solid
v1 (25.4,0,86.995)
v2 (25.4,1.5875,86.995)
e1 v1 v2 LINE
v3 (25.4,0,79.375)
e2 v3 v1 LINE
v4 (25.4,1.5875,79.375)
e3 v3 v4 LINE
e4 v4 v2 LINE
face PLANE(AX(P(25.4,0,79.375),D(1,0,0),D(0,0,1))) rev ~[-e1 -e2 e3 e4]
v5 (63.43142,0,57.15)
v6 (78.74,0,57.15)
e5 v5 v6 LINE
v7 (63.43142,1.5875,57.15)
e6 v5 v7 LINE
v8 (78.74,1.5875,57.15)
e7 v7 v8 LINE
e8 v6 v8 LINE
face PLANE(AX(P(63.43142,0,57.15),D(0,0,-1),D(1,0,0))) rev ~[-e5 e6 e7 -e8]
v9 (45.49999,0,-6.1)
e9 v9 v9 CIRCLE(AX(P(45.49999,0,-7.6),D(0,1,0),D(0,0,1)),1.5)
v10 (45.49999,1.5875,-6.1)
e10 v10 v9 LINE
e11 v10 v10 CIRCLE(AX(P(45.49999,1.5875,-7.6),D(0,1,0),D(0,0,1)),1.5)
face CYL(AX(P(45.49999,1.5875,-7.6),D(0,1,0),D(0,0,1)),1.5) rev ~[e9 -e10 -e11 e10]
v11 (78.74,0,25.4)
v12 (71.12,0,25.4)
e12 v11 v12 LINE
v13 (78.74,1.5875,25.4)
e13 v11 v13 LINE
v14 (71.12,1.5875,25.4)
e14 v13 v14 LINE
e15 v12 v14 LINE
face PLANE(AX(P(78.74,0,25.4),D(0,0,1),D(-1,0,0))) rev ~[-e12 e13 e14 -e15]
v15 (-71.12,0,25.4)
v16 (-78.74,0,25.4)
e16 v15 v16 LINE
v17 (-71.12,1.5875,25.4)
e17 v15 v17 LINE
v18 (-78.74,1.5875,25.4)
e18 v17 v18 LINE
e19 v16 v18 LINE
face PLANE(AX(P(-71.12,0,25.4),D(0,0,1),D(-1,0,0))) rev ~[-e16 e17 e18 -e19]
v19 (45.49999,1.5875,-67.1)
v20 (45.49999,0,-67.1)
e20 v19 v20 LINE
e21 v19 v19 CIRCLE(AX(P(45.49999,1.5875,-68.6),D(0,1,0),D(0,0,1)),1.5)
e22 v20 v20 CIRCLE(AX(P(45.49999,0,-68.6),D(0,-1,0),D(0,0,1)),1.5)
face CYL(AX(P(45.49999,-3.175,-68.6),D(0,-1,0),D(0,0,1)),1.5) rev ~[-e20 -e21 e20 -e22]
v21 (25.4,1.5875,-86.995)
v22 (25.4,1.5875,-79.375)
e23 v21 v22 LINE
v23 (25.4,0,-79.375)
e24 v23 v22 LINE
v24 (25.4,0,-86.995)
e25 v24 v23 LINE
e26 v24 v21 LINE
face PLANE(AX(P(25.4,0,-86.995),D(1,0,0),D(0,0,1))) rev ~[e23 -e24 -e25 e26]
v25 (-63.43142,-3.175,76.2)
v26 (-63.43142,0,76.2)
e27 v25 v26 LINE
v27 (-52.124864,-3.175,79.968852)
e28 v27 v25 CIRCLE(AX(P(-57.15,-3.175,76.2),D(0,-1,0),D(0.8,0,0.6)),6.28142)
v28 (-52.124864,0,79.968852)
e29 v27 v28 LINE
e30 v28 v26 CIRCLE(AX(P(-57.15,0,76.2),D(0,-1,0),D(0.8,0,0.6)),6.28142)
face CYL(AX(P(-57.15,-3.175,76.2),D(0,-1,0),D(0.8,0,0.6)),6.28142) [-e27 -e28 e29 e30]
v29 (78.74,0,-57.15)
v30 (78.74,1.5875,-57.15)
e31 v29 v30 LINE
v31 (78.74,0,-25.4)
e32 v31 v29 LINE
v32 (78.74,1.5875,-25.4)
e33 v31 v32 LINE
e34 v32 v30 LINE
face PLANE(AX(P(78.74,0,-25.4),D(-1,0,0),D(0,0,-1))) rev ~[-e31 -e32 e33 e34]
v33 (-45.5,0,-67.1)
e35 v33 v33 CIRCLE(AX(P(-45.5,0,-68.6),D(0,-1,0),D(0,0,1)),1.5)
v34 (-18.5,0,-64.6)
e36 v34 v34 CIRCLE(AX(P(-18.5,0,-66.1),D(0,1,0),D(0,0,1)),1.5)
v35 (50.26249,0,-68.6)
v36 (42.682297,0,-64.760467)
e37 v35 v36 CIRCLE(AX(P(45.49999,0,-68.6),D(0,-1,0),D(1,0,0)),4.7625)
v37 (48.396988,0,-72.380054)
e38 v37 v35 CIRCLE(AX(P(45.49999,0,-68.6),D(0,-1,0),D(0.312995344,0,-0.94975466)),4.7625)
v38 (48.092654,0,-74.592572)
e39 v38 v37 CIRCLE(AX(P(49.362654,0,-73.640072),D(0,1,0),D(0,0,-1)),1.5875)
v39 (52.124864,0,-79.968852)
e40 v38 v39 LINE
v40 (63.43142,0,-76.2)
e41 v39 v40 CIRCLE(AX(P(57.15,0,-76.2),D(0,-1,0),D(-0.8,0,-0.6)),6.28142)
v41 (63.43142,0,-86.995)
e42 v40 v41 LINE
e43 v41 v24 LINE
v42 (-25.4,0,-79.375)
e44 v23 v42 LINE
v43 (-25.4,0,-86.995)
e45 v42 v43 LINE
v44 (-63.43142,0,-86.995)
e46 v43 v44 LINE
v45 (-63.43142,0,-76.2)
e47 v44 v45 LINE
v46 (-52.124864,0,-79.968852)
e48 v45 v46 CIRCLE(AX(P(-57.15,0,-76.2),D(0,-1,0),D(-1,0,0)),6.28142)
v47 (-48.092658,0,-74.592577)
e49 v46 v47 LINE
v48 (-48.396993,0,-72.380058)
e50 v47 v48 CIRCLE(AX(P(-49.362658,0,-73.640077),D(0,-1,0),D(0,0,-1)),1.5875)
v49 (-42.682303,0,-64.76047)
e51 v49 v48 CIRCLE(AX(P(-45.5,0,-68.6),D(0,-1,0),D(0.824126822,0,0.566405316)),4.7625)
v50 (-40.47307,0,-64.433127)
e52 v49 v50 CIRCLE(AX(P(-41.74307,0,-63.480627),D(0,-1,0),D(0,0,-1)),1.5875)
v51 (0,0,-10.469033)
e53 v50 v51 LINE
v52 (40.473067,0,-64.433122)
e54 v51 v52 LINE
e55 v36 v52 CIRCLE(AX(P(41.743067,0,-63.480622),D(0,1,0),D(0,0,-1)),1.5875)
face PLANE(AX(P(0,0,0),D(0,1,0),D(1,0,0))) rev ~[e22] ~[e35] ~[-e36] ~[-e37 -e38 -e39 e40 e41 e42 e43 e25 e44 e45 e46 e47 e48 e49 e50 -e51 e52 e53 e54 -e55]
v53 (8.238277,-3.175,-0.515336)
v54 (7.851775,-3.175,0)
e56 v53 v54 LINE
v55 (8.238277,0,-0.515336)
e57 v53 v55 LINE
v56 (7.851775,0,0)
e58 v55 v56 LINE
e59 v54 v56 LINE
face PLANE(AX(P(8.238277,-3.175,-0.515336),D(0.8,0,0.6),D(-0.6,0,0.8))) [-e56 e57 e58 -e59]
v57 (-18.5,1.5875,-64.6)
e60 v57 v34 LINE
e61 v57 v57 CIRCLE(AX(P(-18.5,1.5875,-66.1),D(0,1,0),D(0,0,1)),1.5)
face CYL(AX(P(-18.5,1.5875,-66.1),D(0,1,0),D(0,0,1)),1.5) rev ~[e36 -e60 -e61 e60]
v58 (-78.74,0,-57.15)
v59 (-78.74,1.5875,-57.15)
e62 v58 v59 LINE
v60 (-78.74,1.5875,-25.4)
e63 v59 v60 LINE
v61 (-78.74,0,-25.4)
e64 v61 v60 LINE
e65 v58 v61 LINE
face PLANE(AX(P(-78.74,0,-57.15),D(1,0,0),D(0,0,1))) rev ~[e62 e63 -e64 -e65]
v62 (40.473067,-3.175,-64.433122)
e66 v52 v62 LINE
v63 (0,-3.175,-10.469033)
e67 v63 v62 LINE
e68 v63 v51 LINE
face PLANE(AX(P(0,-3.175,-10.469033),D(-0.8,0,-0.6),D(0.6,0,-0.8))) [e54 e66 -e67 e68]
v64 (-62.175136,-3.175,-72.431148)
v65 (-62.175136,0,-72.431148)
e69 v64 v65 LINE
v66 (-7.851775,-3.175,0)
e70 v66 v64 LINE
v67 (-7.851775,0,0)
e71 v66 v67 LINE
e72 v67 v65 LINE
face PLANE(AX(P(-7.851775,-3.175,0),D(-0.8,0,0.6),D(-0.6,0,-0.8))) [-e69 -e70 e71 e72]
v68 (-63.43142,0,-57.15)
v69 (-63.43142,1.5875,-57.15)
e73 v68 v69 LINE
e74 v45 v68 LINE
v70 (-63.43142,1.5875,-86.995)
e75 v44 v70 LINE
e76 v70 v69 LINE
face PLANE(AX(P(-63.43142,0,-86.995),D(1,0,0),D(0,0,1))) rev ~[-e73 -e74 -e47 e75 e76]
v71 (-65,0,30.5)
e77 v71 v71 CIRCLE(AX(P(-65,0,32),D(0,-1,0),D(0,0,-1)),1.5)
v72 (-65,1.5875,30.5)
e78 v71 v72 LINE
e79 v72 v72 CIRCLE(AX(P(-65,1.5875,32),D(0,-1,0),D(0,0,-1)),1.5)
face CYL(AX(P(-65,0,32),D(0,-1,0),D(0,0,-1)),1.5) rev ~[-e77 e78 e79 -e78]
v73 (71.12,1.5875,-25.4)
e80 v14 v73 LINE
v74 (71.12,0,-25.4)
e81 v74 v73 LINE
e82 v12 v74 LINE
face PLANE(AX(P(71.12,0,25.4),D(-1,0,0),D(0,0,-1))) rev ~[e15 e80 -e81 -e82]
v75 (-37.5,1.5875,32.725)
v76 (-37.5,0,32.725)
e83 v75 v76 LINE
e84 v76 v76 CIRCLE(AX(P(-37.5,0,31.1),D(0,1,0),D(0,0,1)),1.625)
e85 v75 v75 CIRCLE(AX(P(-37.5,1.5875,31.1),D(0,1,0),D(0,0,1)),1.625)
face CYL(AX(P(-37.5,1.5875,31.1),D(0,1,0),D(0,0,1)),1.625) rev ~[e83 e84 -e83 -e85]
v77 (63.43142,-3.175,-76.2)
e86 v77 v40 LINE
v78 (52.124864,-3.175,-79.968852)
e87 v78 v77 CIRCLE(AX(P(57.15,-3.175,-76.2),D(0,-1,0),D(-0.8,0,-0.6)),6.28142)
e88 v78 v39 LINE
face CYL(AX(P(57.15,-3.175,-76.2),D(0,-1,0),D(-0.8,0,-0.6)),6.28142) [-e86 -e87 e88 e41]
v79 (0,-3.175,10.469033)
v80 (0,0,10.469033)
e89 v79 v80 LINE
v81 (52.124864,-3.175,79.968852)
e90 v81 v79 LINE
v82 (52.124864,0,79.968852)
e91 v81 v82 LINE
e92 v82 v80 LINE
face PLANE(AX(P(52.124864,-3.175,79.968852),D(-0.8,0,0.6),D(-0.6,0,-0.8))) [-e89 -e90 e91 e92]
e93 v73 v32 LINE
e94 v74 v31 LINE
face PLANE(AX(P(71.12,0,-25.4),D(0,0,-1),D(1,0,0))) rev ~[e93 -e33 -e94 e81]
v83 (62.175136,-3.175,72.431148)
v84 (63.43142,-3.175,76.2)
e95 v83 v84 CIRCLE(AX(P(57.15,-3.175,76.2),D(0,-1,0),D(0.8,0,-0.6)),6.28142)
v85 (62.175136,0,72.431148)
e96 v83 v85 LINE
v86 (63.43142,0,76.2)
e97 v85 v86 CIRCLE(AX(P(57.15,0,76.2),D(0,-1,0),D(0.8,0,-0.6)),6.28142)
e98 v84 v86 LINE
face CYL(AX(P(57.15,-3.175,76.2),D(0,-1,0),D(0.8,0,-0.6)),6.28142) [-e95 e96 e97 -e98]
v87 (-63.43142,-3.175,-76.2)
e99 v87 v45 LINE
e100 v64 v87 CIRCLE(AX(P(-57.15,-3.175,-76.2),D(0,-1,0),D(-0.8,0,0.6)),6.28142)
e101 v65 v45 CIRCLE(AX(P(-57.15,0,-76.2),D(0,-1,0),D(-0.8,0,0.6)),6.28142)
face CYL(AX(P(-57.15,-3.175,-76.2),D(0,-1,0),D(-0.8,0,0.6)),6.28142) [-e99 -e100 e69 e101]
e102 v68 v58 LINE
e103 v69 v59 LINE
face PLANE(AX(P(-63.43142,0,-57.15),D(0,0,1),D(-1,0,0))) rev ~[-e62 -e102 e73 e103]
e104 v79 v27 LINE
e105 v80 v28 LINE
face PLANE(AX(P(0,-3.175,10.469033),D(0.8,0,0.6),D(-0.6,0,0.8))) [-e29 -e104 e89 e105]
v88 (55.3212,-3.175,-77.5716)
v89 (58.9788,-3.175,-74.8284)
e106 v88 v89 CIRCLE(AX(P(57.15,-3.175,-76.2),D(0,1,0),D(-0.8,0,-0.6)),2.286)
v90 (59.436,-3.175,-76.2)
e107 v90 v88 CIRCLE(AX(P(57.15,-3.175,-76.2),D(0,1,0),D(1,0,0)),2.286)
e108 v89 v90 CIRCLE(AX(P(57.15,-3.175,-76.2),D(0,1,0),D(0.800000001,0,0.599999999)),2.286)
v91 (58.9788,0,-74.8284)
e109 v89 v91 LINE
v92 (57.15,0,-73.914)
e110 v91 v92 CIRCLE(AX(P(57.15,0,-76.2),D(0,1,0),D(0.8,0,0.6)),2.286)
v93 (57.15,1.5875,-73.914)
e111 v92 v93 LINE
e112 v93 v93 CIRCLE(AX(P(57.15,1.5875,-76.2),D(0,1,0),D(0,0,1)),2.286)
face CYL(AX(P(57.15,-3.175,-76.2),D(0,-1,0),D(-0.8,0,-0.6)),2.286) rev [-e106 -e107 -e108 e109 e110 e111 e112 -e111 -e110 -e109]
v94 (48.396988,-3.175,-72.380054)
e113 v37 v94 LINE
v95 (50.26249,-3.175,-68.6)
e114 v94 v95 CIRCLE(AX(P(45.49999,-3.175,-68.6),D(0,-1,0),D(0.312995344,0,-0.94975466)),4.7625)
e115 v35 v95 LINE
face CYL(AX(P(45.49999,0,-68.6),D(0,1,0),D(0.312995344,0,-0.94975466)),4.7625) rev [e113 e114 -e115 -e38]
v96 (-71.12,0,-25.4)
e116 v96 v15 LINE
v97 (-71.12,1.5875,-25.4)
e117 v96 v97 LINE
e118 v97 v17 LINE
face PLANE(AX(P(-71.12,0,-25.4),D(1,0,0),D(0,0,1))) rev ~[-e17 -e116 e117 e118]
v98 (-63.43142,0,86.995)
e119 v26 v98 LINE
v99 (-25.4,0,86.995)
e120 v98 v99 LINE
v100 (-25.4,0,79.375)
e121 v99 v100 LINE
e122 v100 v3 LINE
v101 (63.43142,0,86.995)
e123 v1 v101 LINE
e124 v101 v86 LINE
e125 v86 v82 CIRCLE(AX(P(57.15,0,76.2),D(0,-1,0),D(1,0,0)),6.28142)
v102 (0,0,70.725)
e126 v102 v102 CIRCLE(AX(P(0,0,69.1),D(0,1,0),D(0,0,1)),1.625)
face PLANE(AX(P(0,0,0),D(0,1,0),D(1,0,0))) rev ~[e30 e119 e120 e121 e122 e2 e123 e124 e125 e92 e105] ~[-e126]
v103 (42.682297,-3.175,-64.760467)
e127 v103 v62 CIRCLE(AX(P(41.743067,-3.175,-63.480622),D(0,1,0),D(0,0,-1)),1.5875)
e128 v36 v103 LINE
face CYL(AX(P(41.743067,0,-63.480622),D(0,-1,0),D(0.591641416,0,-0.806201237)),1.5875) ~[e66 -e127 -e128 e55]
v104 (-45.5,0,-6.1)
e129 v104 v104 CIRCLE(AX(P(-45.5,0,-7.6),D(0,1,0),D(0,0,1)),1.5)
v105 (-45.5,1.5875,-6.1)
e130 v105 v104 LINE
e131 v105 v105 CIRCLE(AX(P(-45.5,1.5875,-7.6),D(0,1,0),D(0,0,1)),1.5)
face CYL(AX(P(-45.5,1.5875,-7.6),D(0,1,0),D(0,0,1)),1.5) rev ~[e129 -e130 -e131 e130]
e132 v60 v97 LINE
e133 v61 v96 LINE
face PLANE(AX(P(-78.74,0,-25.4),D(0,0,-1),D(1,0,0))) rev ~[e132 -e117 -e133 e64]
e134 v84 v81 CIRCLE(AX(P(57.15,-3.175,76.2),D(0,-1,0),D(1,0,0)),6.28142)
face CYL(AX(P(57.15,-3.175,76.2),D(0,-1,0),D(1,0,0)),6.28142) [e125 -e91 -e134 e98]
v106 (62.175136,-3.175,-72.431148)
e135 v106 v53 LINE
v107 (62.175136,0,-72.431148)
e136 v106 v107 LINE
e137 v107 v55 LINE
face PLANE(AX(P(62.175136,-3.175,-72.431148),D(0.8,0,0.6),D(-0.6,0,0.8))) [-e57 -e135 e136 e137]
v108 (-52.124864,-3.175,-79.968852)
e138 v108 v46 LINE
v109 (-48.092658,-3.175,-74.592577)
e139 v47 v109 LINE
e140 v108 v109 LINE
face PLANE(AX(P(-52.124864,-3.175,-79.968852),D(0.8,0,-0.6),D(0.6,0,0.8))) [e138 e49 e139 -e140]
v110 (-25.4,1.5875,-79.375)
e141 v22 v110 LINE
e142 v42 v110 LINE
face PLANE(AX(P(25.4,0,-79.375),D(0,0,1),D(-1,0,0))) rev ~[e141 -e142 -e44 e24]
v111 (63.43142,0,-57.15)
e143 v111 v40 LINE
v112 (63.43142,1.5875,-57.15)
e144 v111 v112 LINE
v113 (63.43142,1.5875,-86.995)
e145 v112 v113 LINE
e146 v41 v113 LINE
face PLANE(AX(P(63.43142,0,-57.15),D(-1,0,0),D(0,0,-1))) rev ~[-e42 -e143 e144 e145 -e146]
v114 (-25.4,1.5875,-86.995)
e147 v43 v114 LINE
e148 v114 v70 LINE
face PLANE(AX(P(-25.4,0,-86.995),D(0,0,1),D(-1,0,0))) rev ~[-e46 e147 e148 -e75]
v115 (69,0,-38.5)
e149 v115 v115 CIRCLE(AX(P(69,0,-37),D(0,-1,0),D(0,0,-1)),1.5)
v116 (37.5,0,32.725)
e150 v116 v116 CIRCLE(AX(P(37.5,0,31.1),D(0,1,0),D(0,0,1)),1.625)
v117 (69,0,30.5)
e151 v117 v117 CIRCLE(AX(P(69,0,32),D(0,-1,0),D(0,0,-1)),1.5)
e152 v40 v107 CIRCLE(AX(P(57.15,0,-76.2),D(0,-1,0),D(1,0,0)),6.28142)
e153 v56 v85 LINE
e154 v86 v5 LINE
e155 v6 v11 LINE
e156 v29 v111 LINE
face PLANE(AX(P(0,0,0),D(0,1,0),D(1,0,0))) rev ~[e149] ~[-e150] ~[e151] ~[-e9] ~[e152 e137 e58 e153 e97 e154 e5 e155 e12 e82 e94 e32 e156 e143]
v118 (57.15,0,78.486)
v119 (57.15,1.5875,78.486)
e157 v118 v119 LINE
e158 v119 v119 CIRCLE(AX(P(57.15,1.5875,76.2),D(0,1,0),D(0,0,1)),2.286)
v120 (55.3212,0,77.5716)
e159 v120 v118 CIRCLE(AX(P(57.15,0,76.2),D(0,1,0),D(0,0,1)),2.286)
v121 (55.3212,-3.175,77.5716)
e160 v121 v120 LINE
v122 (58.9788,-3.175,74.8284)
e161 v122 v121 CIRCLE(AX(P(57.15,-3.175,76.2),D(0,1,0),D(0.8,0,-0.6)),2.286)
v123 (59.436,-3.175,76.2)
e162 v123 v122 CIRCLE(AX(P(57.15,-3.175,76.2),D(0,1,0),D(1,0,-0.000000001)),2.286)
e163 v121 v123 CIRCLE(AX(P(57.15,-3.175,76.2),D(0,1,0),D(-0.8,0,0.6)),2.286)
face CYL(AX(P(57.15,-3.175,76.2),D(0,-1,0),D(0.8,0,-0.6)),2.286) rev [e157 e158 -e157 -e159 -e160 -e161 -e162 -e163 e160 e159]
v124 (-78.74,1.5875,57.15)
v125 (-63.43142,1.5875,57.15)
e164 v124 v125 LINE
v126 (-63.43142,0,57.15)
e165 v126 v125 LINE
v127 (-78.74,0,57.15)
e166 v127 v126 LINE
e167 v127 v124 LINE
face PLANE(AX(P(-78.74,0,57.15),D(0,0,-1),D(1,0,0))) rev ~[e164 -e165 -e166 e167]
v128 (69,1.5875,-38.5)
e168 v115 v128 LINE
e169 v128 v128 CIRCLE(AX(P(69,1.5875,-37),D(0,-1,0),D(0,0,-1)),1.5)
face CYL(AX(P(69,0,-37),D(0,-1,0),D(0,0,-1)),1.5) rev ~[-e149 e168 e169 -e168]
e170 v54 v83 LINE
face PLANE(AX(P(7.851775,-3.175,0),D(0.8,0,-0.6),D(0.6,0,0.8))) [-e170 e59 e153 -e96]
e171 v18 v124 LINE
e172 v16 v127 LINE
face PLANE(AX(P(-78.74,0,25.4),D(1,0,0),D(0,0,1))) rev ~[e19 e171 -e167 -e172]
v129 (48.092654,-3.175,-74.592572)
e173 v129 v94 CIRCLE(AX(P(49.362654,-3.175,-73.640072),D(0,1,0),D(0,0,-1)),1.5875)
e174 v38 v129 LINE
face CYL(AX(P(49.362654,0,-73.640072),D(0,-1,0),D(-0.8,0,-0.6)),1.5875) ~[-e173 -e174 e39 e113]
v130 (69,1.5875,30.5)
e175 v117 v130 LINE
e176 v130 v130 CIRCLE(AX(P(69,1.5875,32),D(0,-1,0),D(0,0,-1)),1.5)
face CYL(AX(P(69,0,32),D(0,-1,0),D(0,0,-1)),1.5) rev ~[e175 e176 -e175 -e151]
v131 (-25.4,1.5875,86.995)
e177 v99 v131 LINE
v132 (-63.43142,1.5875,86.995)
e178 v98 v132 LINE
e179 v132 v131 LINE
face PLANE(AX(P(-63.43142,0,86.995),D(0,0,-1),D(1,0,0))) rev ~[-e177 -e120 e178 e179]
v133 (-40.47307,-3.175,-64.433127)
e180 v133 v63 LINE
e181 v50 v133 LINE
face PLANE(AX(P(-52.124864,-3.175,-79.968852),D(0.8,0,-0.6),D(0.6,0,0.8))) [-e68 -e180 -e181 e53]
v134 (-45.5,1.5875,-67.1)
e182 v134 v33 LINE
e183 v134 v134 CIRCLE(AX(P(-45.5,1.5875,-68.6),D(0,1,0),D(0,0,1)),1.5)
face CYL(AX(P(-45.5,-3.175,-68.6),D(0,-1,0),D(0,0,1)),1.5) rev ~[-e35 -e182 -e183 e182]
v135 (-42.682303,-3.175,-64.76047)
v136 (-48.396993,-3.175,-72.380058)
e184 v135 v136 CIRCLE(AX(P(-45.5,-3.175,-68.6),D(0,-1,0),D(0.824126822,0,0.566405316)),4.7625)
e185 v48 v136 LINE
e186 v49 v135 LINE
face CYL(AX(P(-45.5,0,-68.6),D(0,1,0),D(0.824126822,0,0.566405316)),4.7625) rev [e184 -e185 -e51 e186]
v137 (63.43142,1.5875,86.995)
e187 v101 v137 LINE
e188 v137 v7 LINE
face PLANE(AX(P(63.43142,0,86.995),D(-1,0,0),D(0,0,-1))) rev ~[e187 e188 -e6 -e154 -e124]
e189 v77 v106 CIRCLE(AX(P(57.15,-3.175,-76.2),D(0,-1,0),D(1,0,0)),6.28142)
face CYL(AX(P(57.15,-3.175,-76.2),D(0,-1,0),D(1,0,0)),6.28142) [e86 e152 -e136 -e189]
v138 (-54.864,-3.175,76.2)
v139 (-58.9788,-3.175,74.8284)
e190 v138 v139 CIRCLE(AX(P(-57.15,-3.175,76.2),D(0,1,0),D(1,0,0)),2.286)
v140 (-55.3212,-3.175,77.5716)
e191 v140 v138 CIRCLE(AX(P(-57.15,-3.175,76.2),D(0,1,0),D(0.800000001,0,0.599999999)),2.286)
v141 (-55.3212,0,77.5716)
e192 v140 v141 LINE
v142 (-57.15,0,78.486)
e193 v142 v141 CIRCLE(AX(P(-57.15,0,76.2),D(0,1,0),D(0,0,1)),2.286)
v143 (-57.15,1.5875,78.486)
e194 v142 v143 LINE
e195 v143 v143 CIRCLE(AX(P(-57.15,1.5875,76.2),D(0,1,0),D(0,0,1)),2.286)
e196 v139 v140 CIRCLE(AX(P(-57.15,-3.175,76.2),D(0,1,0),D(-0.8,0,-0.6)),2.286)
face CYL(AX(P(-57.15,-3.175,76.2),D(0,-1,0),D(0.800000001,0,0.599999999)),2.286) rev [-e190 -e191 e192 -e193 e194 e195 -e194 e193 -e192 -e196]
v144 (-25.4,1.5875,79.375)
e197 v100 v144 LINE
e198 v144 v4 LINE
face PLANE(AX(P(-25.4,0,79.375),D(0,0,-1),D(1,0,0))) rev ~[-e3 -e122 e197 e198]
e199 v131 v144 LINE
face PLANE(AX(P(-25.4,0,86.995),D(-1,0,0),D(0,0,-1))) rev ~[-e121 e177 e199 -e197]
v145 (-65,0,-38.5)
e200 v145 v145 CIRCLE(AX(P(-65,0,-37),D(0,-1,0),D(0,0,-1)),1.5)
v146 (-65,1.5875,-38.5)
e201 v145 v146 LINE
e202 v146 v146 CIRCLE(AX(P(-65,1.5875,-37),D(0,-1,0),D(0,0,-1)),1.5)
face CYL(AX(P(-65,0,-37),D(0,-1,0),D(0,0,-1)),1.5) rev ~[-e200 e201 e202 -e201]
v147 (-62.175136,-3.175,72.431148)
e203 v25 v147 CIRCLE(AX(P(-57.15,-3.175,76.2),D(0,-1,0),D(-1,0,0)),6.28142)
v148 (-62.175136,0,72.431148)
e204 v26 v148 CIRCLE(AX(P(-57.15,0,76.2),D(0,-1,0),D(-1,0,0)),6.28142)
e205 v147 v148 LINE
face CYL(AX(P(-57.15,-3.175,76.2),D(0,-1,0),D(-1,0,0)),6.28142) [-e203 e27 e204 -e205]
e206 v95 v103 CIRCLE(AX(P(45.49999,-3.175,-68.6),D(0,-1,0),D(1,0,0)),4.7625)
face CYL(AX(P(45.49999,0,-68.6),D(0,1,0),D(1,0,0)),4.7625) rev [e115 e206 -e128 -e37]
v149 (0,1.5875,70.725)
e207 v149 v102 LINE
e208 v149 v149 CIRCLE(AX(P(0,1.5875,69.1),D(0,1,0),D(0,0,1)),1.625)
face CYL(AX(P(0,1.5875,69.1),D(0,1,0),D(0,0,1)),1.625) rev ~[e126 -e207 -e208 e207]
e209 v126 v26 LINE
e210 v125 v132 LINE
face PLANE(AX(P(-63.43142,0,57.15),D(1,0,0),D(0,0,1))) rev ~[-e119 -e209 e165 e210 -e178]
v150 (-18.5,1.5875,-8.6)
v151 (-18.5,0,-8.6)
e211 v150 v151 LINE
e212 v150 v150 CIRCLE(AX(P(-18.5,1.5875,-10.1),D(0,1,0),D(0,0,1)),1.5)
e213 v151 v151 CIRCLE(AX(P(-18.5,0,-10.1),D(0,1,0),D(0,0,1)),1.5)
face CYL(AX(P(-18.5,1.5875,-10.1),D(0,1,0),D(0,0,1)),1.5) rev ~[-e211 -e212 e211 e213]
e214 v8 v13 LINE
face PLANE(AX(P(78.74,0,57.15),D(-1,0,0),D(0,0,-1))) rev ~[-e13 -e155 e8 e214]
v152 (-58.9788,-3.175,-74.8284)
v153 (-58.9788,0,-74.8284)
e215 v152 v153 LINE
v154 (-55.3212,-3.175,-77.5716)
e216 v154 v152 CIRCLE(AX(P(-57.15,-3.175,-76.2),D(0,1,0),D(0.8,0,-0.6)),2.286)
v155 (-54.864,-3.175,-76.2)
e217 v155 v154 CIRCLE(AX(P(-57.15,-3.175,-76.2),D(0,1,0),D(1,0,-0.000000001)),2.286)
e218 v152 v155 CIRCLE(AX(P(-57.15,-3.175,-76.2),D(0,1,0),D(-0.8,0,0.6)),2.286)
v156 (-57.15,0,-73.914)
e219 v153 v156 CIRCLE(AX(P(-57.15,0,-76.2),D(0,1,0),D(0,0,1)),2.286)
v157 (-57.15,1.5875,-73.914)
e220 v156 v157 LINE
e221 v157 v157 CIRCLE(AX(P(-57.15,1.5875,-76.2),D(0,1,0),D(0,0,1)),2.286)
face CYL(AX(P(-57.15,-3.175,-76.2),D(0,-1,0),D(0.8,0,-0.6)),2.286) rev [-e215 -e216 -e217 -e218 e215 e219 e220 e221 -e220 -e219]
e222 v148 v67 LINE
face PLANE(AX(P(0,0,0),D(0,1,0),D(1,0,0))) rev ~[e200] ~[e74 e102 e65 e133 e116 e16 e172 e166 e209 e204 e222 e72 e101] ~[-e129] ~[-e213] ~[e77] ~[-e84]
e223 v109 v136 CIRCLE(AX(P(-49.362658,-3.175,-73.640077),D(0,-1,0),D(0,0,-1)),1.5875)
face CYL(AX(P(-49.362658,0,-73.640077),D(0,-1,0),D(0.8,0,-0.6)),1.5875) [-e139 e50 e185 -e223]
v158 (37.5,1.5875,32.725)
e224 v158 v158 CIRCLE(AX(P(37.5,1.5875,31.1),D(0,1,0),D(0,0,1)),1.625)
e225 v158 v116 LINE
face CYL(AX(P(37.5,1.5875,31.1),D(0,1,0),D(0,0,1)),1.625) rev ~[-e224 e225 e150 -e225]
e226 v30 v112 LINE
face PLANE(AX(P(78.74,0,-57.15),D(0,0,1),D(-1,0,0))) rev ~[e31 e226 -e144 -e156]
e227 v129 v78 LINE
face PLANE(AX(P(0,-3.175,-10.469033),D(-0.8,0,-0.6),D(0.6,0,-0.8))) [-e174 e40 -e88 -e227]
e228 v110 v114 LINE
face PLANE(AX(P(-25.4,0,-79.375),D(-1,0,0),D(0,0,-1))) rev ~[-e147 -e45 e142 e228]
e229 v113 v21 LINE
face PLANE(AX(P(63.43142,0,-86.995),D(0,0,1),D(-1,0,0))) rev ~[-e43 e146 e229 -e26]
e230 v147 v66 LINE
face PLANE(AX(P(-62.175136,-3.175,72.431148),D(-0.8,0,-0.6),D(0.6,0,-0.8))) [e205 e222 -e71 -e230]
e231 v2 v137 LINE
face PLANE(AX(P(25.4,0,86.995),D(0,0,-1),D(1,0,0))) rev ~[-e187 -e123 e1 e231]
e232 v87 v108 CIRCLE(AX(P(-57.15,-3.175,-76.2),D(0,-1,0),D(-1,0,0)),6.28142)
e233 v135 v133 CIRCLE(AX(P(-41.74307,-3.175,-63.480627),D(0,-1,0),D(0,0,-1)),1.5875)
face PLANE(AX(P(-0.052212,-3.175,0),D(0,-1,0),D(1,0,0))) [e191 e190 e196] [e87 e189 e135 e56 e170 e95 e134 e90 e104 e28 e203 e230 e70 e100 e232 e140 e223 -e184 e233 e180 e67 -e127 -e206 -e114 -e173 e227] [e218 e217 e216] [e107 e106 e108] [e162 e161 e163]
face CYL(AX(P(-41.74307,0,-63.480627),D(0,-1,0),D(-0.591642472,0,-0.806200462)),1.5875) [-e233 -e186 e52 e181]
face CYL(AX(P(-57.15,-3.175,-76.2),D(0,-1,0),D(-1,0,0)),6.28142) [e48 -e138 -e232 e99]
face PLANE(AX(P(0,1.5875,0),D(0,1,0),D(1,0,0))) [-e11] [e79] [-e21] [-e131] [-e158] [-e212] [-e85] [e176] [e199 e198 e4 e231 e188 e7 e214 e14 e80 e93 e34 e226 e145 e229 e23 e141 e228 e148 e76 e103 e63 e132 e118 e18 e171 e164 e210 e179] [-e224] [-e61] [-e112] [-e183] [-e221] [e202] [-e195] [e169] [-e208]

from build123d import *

# Parameters (mm, degrees)
SKETCH1_R           = 2.286
MAIN_BODY_DEPTH     = 1.5875
CUT_EXTRUDE1_REACH  = 119.348
SKETCH2_R           = 1.5
CUT_EXTRUDE2_REACH  = 119.348
SKETCH3_R           = 1.5
CUT_EXTRUDE3_REACH  = 119.348
SKETCH4_R           = 1.625
BOSS_EXTRUDE1_START = 3.175
SKETCH5_R           = 1.5
BOSS_EXTRUDE1_DEPTH = 3.175
CUT_EXTRUDE7_START  = -3.175
SKETCH14_R          = 1.5
CUT_EXTRUDE7_DEPTH  = 3.175
FILLET2_R           = 1.5875


with BuildPart() as part:
    # Sketch1 → Main Body (new body)
    with BuildSketch(Plane(origin=(0, 0, 0), x_dir=(1, 0, 0), z_dir=(0, 1, 0))):
        Polygon((-25.4, 79.375), (-25.4, 86.995), (-63.43142, 86.995), (-63.43142, 60.96), (-63.43142, 57.15), (-78.74, 57.15), (-78.74, 25.4), (-71.12, 25.4), (-71.12, -25.4), (-78.74, -25.4), (-78.74, -57.15), (-63.43142, -57.15), (-63.43142, -60.96), (-63.43142, -86.995), (-25.4, -86.995), (-25.4, -79.375), (25.4, -79.375), (25.4, -86.995), (63.43142, -86.995), (63.43142, -60.96), (63.43142, -57.15), (78.74, -57.15), (78.74, -25.4), (71.12, -25.4), (71.12, 25.4), (78.74, 25.4), (78.74, 57.15), (63.43142, 57.15), (63.43142, 60.96), (63.43142, 86.995), (25.4, 86.995), (25.4, 79.375), align=None)
        with Locations(Location((-57.15, -76.2, 0), (0, 0, 270))):
            Circle(SKETCH1_R, mode=Mode.SUBTRACT)
        with Locations(Location((57.15, -76.2, 0), (0, 0, 270))):
            Circle(SKETCH1_R, mode=Mode.SUBTRACT)
        with Locations(Location((-57.15, 76.2, 0), (0, 0, 270))):
            Circle(SKETCH1_R, mode=Mode.SUBTRACT)
        with Locations(Location((57.15, 76.2, 0), (0, 0, 270))):
            Circle(SKETCH1_R, mode=Mode.SUBTRACT)
    extrude(amount=MAIN_BODY_DEPTH)

    # Sketch2 → Cut-Extrude1 (cut, up to next)
    with BuildSketch(Plane.XZ, mode=Mode.PRIVATE) as cut_extrude1_sk1:
        with Locations(Location((69, -37, 0), (0, 0, 270))):
            Circle(SKETCH2_R)
    cut_extrude1_tool1 = extrude(cut_extrude1_sk1.sketch, amount=-CUT_EXTRUDE1_REACH, mode=Mode.PRIVATE) & part.part
    # Sketch2 → Cut-Extrude1 (cut, up to next)
    with BuildSketch(Plane.XZ, mode=Mode.PRIVATE) as cut_extrude1_sk2:
        with Locations(Location((-65, -37, 0), (0, 0, 270))):
            Circle(SKETCH2_R)
    cut_extrude1_tool2 = extrude(cut_extrude1_sk2.sketch, amount=-CUT_EXTRUDE1_REACH, mode=Mode.PRIVATE) & part.part
    # Sketch2 → Cut-Extrude1 (cut, up to next)
    with BuildSketch(Plane.XZ, mode=Mode.PRIVATE) as cut_extrude1_sk3:
        with Locations(Location((-65, 32, 0), (0, 0, 270))):
            Circle(SKETCH2_R)
    cut_extrude1_tool3 = extrude(cut_extrude1_sk3.sketch, amount=-CUT_EXTRUDE1_REACH, mode=Mode.PRIVATE) & part.part
    # Sketch2 → Cut-Extrude1 (cut, up to next)
    with BuildSketch(Plane.XZ, mode=Mode.PRIVATE) as cut_extrude1_sk4:
        with Locations(Location((69, 32, 0), (0, 0, 270))):
            Circle(SKETCH2_R)
    cut_extrude1_tool4 = extrude(cut_extrude1_sk4.sketch, amount=-CUT_EXTRUDE1_REACH, mode=Mode.PRIVATE) & part.part
    add(cut_extrude1_tool1.solids().sort_by_distance((69, 0, -37))[0], mode=Mode.SUBTRACT)
    add(cut_extrude1_tool2.solids().sort_by_distance((-65, 0, -37))[0], mode=Mode.SUBTRACT)
    add(cut_extrude1_tool3.solids().sort_by_distance((-65, 0, 32))[0], mode=Mode.SUBTRACT)
    add(cut_extrude1_tool4.solids().sort_by_distance((69, 0, 32))[0], mode=Mode.SUBTRACT)

    # Sketch3 → Cut-Extrude2 (cut, up to next)
    with BuildSketch(Plane(origin=(0, 1.5875, 0), x_dir=(1, 0, 0), z_dir=(0, 1, 0)), mode=Mode.PRIVATE) as cut_extrude2_sk1:
        with Locations(Location((-18.5, 66.1, 0), (0, 0, 270))):
            Circle(SKETCH3_R)
    cut_extrude2_tool1 = extrude(cut_extrude2_sk1.sketch, amount=-CUT_EXTRUDE2_REACH, mode=Mode.PRIVATE) & part.part
    # Sketch3 → Cut-Extrude2 (cut, up to next)
    with BuildSketch(Plane(origin=(0, 1.5875, 0), x_dir=(1, 0, 0), z_dir=(0, 1, 0)), mode=Mode.PRIVATE) as cut_extrude2_sk2:
        with Locations(Location((45.4999896, 68.6, 0), (0, 0, 270))):
            Circle(SKETCH3_R)
    cut_extrude2_tool2 = extrude(cut_extrude2_sk2.sketch, amount=-CUT_EXTRUDE2_REACH, mode=Mode.PRIVATE) & part.part
    # Sketch3 → Cut-Extrude2 (cut, up to next)
    with BuildSketch(Plane(origin=(0, 1.5875, 0), x_dir=(1, 0, 0), z_dir=(0, 1, 0)), mode=Mode.PRIVATE) as cut_extrude2_sk3:
        with Locations(Location((45.4999896, 7.6, 0), (0, 0, 270))):
            Circle(SKETCH3_R)
    cut_extrude2_tool3 = extrude(cut_extrude2_sk3.sketch, amount=-CUT_EXTRUDE2_REACH, mode=Mode.PRIVATE) & part.part
    # Sketch3 → Cut-Extrude2 (cut, up to next)
    with BuildSketch(Plane(origin=(0, 1.5875, 0), x_dir=(1, 0, 0), z_dir=(0, 1, 0)), mode=Mode.PRIVATE) as cut_extrude2_sk4:
        with Locations(Location((-18.5, 10.1, 0), (0, 0, 270))):
            Circle(SKETCH3_R)
    cut_extrude2_tool4 = extrude(cut_extrude2_sk4.sketch, amount=-CUT_EXTRUDE2_REACH, mode=Mode.PRIVATE) & part.part
    # Sketch3 → Cut-Extrude2 (cut, up to next)
    with BuildSketch(Plane(origin=(0, 1.5875, 0), x_dir=(1, 0, 0), z_dir=(0, 1, 0)), mode=Mode.PRIVATE) as cut_extrude2_sk5:
        with Locations(Location((-45.5, 68.6, 0), (0, 0, 270))):
            Circle(SKETCH3_R)
    cut_extrude2_tool5 = extrude(cut_extrude2_sk5.sketch, amount=-CUT_EXTRUDE2_REACH, mode=Mode.PRIVATE) & part.part
    # Sketch3 → Cut-Extrude2 (cut, up to next)
    with BuildSketch(Plane(origin=(0, 1.5875, 0), x_dir=(1, 0, 0), z_dir=(0, 1, 0)), mode=Mode.PRIVATE) as cut_extrude2_sk6:
        with Locations(Location((-45.5, 7.6, 0), (0, 0, 270))):
            Circle(SKETCH3_R)
    cut_extrude2_tool6 = extrude(cut_extrude2_sk6.sketch, amount=-CUT_EXTRUDE2_REACH, mode=Mode.PRIVATE) & part.part
    add(cut_extrude2_tool1.solids().sort_by_distance((-18.5, 1.5875, -66.1))[0], mode=Mode.SUBTRACT)
    add(cut_extrude2_tool2.solids().sort_by_distance((45.49999, 1.5875, -68.6))[0], mode=Mode.SUBTRACT)
    add(cut_extrude2_tool3.solids().sort_by_distance((45.49999, 1.5875, -7.6))[0], mode=Mode.SUBTRACT)
    add(cut_extrude2_tool4.solids().sort_by_distance((-18.5, 1.5875, -10.1))[0], mode=Mode.SUBTRACT)
    add(cut_extrude2_tool5.solids().sort_by_distance((-45.5, 1.5875, -68.6))[0], mode=Mode.SUBTRACT)
    add(cut_extrude2_tool6.solids().sort_by_distance((-45.5, 1.5875, -7.6))[0], mode=Mode.SUBTRACT)

    # Sketch4 → Cut-Extrude3 (cut, up to next)
    with BuildSketch(Plane(origin=(0, 1.5875, 0), x_dir=(1, 0, 0), z_dir=(0, 1, 0)), mode=Mode.PRIVATE) as cut_extrude3_sk1:
        with Locations(Location((-37.5, -31.1, 0), (0, 0, 270))):
            Circle(SKETCH4_R)
    cut_extrude3_tool1 = extrude(cut_extrude3_sk1.sketch, amount=-CUT_EXTRUDE3_REACH, mode=Mode.PRIVATE) & part.part
    # Sketch4 → Cut-Extrude3 (cut, up to next)
    with BuildSketch(Plane(origin=(0, 1.5875, 0), x_dir=(1, 0, 0), z_dir=(0, 1, 0)), mode=Mode.PRIVATE) as cut_extrude3_sk2:
        with Locations(Location((37.5, -31.1, 0), (0, 0, 270))):
            Circle(SKETCH4_R)
    cut_extrude3_tool2 = extrude(cut_extrude3_sk2.sketch, amount=-CUT_EXTRUDE3_REACH, mode=Mode.PRIVATE) & part.part
    # Sketch4 → Cut-Extrude3 (cut, up to next)
    with BuildSketch(Plane(origin=(0, 1.5875, 0), x_dir=(1, 0, 0), z_dir=(0, 1, 0)), mode=Mode.PRIVATE) as cut_extrude3_sk3:
        with Locations(Location((0, -69.1, 0), (0, 0, 270))):
            Circle(SKETCH4_R)
    cut_extrude3_tool3 = extrude(cut_extrude3_sk3.sketch, amount=-CUT_EXTRUDE3_REACH, mode=Mode.PRIVATE) & part.part
    add(cut_extrude3_tool1.solids().sort_by_distance((-37.5, 1.5875, 31.1))[0], mode=Mode.SUBTRACT)
    add(cut_extrude3_tool2.solids().sort_by_distance((37.5, 1.5875, 31.1))[0], mode=Mode.SUBTRACT)
    add(cut_extrude3_tool3.solids().sort_by_distance((0, 1.5875, 69.1))[0], mode=Mode.SUBTRACT)

    # Sketch5 → Boss-Extrude1 (add)
    # profile 1 of 17: a face of its own
    with BuildSketch(Plane.XZ.offset(BOSS_EXTRUDE1_START)):
        with BuildLine():
            Line((-52.124864, -79.968852), (0, -10.469033333))
            Line((0, -10.469033333), (52.124864, -79.968852))
            ThreePointArc((52.124864, -79.968852), (53.381148, -71.174864), (62.175136, -72.431148))
            Line((62.175136, -72.431148), (8.238277017, -0.515336023))
            Line((8.238277017, -0.515336023), (7.851775, 0))
            Line((7.851775, 0), (62.175136, 72.431148))
            ThreePointArc((62.175136, 72.431148), (53.381148, 71.174864), (52.124864, 79.968852))
            Line((52.124864, 79.968852), (0, 10.469033333))
            Line((0, 10.469033333), (-52.124864, 79.968852))
            ThreePointArc((-52.124864, 79.968852), (-51.190921758, 78.186359414), (-50.86858, 76.2))
            ThreePointArc((-50.86858, 76.2), (-55.163640586, 70.240921758), (-62.175136, 72.431148))
            Line((-62.175136, 72.431148), (-7.851775, 0))
            Line((-7.851775, 0), (-8.933393131, -1.442157508))
            Line((-8.933393131, -1.442157508), (-62.175136, -72.431148))
            ThreePointArc((-62.175136, -72.431148), (-55.163640586, -70.240921758), (-50.86858, -76.2))
            ThreePointArc((-50.86858, -76.2), (-51.190921758, -78.186359414), (-52.124864, -79.968852))
        make_face()
        with Locations(Location((-45.5, -68.6, 0), (0, 0, 90))):
            Circle(SKETCH5_R, mode=Mode.SUBTRACT)
        with Locations(Location((45.4999896, -68.6, 0), (0, 0, 90))):
            Circle(SKETCH5_R, mode=Mode.SUBTRACT)
    # profile 2 of 17: a face of its own
    with BuildSketch(Plane.XZ.offset(BOSS_EXTRUDE1_START)):
        with BuildLine():
            ThreePointArc((62.175136, -72.431148), (53.381148, -71.174864), (52.124864, -79.968852))
            Line((52.124864, -79.968852), (55.3212, -77.5716))
            ThreePointArc((55.3212, -77.5716), (55.7784, -74.3712), (58.9788, -74.8284))
            Line((58.9788, -74.8284), (62.175136, -72.431148))
        make_face()
    # profile 3 of 17: a face of its own
    with BuildSketch(Plane.XZ.offset(BOSS_EXTRUDE1_START)):
        with BuildLine():
            Line((55.3212, -77.5716), (52.124864, -79.968852))
            ThreePointArc((52.124864, -79.968852), (59.136359414, -82.159078242), (63.43142, -76.2))
            ThreePointArc((63.43142, -76.2), (63.109078242, -74.213640586), (62.175136, -72.431148))
            Line((62.175136, -72.431148), (58.9788, -74.8284))
            ThreePointArc((58.9788, -74.8284), (59.318690019, -75.477103327), (59.436, -76.2))
            ThreePointArc((59.436, -76.2), (57.872896673, -78.368690019), (55.3212, -77.5716))
        make_face()
    # profile 4 of 17: a face of its own
    with BuildSketch(Plane.XZ.offset(BOSS_EXTRUDE1_START)):
        with BuildLine():
            ThreePointArc((62.175136, -72.431148), (53.381148, -71.174864), (52.124864, -79.968852))
            Line((52.124864, -79.968852), (55.3212, -77.5716))
            ThreePointArc((55.3212, -77.5716), (55.7784, -74.3712), (58.9788, -74.8284))
            Line((58.9788, -74.8284), (62.175136, -72.431148))
        make_face()
    # profile 5 of 17: a face of its own
    with BuildSketch(Plane.XZ.offset(BOSS_EXTRUDE1_START)):
        with BuildLine():
            Line((55.3212, -77.5716), (52.124864, -79.968852))
            ThreePointArc((52.124864, -79.968852), (59.136359414, -82.159078242), (63.43142, -76.2))
            ThreePointArc((63.43142, -76.2), (63.109078242, -74.213640586), (62.175136, -72.431148))
            Line((62.175136, -72.431148), (58.9788, -74.8284))
            ThreePointArc((58.9788, -74.8284), (59.318690019, -75.477103327), (59.436, -76.2))
            ThreePointArc((59.436, -76.2), (57.872896673, -78.368690019), (55.3212, -77.5716))
        make_face()
    # profile 6 of 17: a face of its own
    with BuildSketch(Plane.XZ.offset(BOSS_EXTRUDE1_START)):
        with BuildLine():
            ThreePointArc((-63.43142, -76.2), (-59.136359414, -82.159078242), (-52.124864, -79.968852))
            Line((-52.124864, -79.968852), (-55.3212, -77.5716))
            ThreePointArc((-55.3212, -77.5716), (-58.5216, -78.0288), (-58.9788, -74.8284))
            Line((-58.9788, -74.8284), (-62.175136, -72.431148))
            ThreePointArc((-62.175136, -72.431148), (-63.109078242, -74.213640586), (-63.43142, -76.2))
        make_face()
    # profile 7 of 17: a face of its own
    with BuildSketch(Plane.XZ.offset(BOSS_EXTRUDE1_START)):
        with BuildLine():
            Line((-55.3212, -77.5716), (-52.124864, -79.968852))
            ThreePointArc((-52.124864, -79.968852), (-51.190921758, -78.186359414), (-50.86858, -76.2))
            ThreePointArc((-50.86858, -76.2), (-55.163640586, -70.240921758), (-62.175136, -72.431148))
            Line((-62.175136, -72.431148), (-58.9788, -74.8284))
            ThreePointArc((-58.9788, -74.8284), (-56.427103327, -74.031309981), (-54.864, -76.2))
            ThreePointArc((-54.864, -76.2), (-54.981309981, -76.922896673), (-55.3212, -77.5716))
        make_face()
    # profile 8 of 17: a face of its own
    with BuildSketch(Plane.XZ.offset(BOSS_EXTRUDE1_START)):
        with BuildLine():
            ThreePointArc((-63.43142, -76.2), (-59.136359414, -82.159078242), (-52.124864, -79.968852))
            Line((-52.124864, -79.968852), (-55.3212, -77.5716))
            ThreePointArc((-55.3212, -77.5716), (-58.5216, -78.0288), (-58.9788, -74.8284))
            Line((-58.9788, -74.8284), (-62.175136, -72.431148))
            ThreePointArc((-62.175136, -72.431148), (-63.109078242, -74.213640586), (-63.43142, -76.2))
        make_face()
    # profile 9 of 17: a face of its own
    with BuildSketch(Plane.XZ.offset(BOSS_EXTRUDE1_START)):
        with BuildLine():
            Line((-55.3212, -77.5716), (-52.124864, -79.968852))
            ThreePointArc((-52.124864, -79.968852), (-51.190921758, -78.186359414), (-50.86858, -76.2))
            ThreePointArc((-50.86858, -76.2), (-55.163640586, -70.240921758), (-62.175136, -72.431148))
            Line((-62.175136, -72.431148), (-58.9788, -74.8284))
            ThreePointArc((-58.9788, -74.8284), (-56.427103327, -74.031309981), (-54.864, -76.2))
            ThreePointArc((-54.864, -76.2), (-54.981309981, -76.922896673), (-55.3212, -77.5716))
        make_face()
    # profile 10 of 17: a face of its own
    with BuildSketch(Plane.XZ.offset(BOSS_EXTRUDE1_START)):
        with BuildLine():
            ThreePointArc((-63.43142, 76.2), (-63.109078242, 74.213640586), (-62.175136, 72.431148))
            Line((-62.175136, 72.431148), (-58.9788, 74.8284))
            ThreePointArc((-58.9788, 74.8284), (-58.5216, 78.0288), (-55.3212, 77.5716))
            Line((-55.3212, 77.5716), (-52.124864, 79.968852))
            ThreePointArc((-52.124864, 79.968852), (-59.136359414, 82.159078242), (-63.43142, 76.2))
        make_face()
    # profile 11 of 17: a face of its own
    with BuildSketch(Plane.XZ.offset(BOSS_EXTRUDE1_START)):
        with BuildLine():
            Line((-58.9788, 74.8284), (-62.175136, 72.431148))
            ThreePointArc((-62.175136, 72.431148), (-55.163640586, 70.240921758), (-50.86858, 76.2))
            ThreePointArc((-50.86858, 76.2), (-51.190921758, 78.186359414), (-52.124864, 79.968852))
            Line((-52.124864, 79.968852), (-55.3212, 77.5716))
            ThreePointArc((-55.3212, 77.5716), (-54.981309981, 76.922896673), (-54.864, 76.2))
            ThreePointArc((-54.864, 76.2), (-56.427103327, 74.031309981), (-58.9788, 74.8284))
        make_face()
    # profile 12 of 17: a face of its own
    with BuildSketch(Plane.XZ.offset(BOSS_EXTRUDE1_START)):
        with BuildLine():
            ThreePointArc((-63.43142, 76.2), (-63.109078242, 74.213640586), (-62.175136, 72.431148))
            Line((-62.175136, 72.431148), (-58.9788, 74.8284))
            ThreePointArc((-58.9788, 74.8284), (-58.5216, 78.0288), (-55.3212, 77.5716))
            Line((-55.3212, 77.5716), (-52.124864, 79.968852))
            ThreePointArc((-52.124864, 79.968852), (-59.136359414, 82.159078242), (-63.43142, 76.2))
        make_face()
    # profile 13 of 17: a face of its own
    with BuildSketch(Plane.XZ.offset(BOSS_EXTRUDE1_START)):
        with BuildLine():
            Line((-58.9788, 74.8284), (-62.175136, 72.431148))
            ThreePointArc((-62.175136, 72.431148), (-55.163640586, 70.240921758), (-50.86858, 76.2))
            ThreePointArc((-50.86858, 76.2), (-51.190921758, 78.186359414), (-52.124864, 79.968852))
            Line((-52.124864, 79.968852), (-55.3212, 77.5716))
            ThreePointArc((-55.3212, 77.5716), (-54.981309981, 76.922896673), (-54.864, 76.2))
            ThreePointArc((-54.864, 76.2), (-56.427103327, 74.031309981), (-58.9788, 74.8284))
        make_face()
    # profile 14 of 17: a face of its own
    with BuildSketch(Plane.XZ.offset(BOSS_EXTRUDE1_START)):
        with BuildLine():
            ThreePointArc((52.124864, 79.968852), (53.381148, 71.174864), (62.175136, 72.431148))
            Line((62.175136, 72.431148), (58.9788, 74.8284))
            ThreePointArc((58.9788, 74.8284), (55.7784, 74.3712), (55.3212, 77.5716))
            Line((55.3212, 77.5716), (52.124864, 79.968852))
        make_face()
    # profile 15 of 17: a face of its own
    with BuildSketch(Plane.XZ.offset(BOSS_EXTRUDE1_START)):
        with BuildLine():
            Line((58.9788, 74.8284), (62.175136, 72.431148))
            ThreePointArc((62.175136, 72.431148), (63.109078242, 74.213640586), (63.43142, 76.2))
            ThreePointArc((63.43142, 76.2), (59.136359414, 82.159078242), (52.124864, 79.968852))
            Line((52.124864, 79.968852), (55.3212, 77.5716))
            ThreePointArc((55.3212, 77.5716), (57.872896673, 78.368690019), (59.436, 76.2))
            ThreePointArc((59.436, 76.2), (59.318690019, 75.477103327), (58.9788, 74.8284))
        make_face()
    # profile 16 of 17: a face of its own
    with BuildSketch(Plane.XZ.offset(BOSS_EXTRUDE1_START)):
        with BuildLine():
            ThreePointArc((52.124864, 79.968852), (53.381148, 71.174864), (62.175136, 72.431148))
            Line((62.175136, 72.431148), (58.9788, 74.8284))
            ThreePointArc((58.9788, 74.8284), (55.7784, 74.3712), (55.3212, 77.5716))
            Line((55.3212, 77.5716), (52.124864, 79.968852))
        make_face()
    # profile 17 of 17: a face of its own
    with BuildSketch(Plane.XZ.offset(BOSS_EXTRUDE1_START)):
        with BuildLine():
            Line((58.9788, 74.8284), (62.175136, 72.431148))
            ThreePointArc((62.175136, 72.431148), (63.109078242, 74.213640586), (63.43142, 76.2))
            ThreePointArc((63.43142, 76.2), (59.136359414, 82.159078242), (52.124864, 79.968852))
            Line((52.124864, 79.968852), (55.3212, 77.5716))
            ThreePointArc((55.3212, 77.5716), (57.872896673, 78.368690019), (59.436, 76.2))
            ThreePointArc((59.436, 76.2), (59.318690019, 75.477103327), (58.9788, 74.8284))
        make_face()
    extrude(amount=-BOSS_EXTRUDE1_DEPTH)

    # Sketch14 → Cut-Extrude7 (cut)
    # profile 1 of 2: a face of its own
    with BuildSketch(Plane.XZ.offset(3.175).offset(CUT_EXTRUDE7_START)):
        with BuildLine():
            ThreePointArc((50.2624896, -68.6), (46.912270502, -64.051718027), (41.575090585, -65.902487447))
            Line((41.575090585, -65.902487447), (46.990629927, -73.123206569))
            ThreePointArc((46.990629927, -73.123206569), (49.358783505, -71.391257037), (50.2624896, -68.6))
        make_face()
        with Locations(Location((45.4999896, -68.6, 0), (0, 0, 90))):
            Circle(SKETCH14_R, mode=Mode.SUBTRACT)
    # profile 2 of 2: a face of its own
    with BuildSketch(Plane.XZ.offset(3.175).offset(CUT_EXTRUDE7_START)):
        with BuildLine():
            ThreePointArc((-41.575096012, -65.902494683), (-49.31, -65.7425), (-46.990631988, -73.123209317))
            Line((-46.990631988, -73.123209317), (-41.575096012, -65.902494683))
        make_face()
        with Locations(Location((-45.5, -68.6, 0), (0, 0, 90))):
            Circle(SKETCH14_R, mode=Mode.SUBTRACT)
    extrude(amount=CUT_EXTRUDE7_DEPTH, mode=Mode.SUBTRACT)

    # Fillet2
    fillet2_edges = [part.edges().sort_by_distance(p)[0] for p in [
        (41.575090585, -1.5875, -65.902487447),
        (46.990629927, -1.5875, -73.123206569),
        (-46.990631988, -1.5875, -73.123209317),
        (-41.575096012, -1.5875, -65.902494683),
    ]]
    fillet(fillet2_edges, radius=FILLET2_R)


solid = part.part
